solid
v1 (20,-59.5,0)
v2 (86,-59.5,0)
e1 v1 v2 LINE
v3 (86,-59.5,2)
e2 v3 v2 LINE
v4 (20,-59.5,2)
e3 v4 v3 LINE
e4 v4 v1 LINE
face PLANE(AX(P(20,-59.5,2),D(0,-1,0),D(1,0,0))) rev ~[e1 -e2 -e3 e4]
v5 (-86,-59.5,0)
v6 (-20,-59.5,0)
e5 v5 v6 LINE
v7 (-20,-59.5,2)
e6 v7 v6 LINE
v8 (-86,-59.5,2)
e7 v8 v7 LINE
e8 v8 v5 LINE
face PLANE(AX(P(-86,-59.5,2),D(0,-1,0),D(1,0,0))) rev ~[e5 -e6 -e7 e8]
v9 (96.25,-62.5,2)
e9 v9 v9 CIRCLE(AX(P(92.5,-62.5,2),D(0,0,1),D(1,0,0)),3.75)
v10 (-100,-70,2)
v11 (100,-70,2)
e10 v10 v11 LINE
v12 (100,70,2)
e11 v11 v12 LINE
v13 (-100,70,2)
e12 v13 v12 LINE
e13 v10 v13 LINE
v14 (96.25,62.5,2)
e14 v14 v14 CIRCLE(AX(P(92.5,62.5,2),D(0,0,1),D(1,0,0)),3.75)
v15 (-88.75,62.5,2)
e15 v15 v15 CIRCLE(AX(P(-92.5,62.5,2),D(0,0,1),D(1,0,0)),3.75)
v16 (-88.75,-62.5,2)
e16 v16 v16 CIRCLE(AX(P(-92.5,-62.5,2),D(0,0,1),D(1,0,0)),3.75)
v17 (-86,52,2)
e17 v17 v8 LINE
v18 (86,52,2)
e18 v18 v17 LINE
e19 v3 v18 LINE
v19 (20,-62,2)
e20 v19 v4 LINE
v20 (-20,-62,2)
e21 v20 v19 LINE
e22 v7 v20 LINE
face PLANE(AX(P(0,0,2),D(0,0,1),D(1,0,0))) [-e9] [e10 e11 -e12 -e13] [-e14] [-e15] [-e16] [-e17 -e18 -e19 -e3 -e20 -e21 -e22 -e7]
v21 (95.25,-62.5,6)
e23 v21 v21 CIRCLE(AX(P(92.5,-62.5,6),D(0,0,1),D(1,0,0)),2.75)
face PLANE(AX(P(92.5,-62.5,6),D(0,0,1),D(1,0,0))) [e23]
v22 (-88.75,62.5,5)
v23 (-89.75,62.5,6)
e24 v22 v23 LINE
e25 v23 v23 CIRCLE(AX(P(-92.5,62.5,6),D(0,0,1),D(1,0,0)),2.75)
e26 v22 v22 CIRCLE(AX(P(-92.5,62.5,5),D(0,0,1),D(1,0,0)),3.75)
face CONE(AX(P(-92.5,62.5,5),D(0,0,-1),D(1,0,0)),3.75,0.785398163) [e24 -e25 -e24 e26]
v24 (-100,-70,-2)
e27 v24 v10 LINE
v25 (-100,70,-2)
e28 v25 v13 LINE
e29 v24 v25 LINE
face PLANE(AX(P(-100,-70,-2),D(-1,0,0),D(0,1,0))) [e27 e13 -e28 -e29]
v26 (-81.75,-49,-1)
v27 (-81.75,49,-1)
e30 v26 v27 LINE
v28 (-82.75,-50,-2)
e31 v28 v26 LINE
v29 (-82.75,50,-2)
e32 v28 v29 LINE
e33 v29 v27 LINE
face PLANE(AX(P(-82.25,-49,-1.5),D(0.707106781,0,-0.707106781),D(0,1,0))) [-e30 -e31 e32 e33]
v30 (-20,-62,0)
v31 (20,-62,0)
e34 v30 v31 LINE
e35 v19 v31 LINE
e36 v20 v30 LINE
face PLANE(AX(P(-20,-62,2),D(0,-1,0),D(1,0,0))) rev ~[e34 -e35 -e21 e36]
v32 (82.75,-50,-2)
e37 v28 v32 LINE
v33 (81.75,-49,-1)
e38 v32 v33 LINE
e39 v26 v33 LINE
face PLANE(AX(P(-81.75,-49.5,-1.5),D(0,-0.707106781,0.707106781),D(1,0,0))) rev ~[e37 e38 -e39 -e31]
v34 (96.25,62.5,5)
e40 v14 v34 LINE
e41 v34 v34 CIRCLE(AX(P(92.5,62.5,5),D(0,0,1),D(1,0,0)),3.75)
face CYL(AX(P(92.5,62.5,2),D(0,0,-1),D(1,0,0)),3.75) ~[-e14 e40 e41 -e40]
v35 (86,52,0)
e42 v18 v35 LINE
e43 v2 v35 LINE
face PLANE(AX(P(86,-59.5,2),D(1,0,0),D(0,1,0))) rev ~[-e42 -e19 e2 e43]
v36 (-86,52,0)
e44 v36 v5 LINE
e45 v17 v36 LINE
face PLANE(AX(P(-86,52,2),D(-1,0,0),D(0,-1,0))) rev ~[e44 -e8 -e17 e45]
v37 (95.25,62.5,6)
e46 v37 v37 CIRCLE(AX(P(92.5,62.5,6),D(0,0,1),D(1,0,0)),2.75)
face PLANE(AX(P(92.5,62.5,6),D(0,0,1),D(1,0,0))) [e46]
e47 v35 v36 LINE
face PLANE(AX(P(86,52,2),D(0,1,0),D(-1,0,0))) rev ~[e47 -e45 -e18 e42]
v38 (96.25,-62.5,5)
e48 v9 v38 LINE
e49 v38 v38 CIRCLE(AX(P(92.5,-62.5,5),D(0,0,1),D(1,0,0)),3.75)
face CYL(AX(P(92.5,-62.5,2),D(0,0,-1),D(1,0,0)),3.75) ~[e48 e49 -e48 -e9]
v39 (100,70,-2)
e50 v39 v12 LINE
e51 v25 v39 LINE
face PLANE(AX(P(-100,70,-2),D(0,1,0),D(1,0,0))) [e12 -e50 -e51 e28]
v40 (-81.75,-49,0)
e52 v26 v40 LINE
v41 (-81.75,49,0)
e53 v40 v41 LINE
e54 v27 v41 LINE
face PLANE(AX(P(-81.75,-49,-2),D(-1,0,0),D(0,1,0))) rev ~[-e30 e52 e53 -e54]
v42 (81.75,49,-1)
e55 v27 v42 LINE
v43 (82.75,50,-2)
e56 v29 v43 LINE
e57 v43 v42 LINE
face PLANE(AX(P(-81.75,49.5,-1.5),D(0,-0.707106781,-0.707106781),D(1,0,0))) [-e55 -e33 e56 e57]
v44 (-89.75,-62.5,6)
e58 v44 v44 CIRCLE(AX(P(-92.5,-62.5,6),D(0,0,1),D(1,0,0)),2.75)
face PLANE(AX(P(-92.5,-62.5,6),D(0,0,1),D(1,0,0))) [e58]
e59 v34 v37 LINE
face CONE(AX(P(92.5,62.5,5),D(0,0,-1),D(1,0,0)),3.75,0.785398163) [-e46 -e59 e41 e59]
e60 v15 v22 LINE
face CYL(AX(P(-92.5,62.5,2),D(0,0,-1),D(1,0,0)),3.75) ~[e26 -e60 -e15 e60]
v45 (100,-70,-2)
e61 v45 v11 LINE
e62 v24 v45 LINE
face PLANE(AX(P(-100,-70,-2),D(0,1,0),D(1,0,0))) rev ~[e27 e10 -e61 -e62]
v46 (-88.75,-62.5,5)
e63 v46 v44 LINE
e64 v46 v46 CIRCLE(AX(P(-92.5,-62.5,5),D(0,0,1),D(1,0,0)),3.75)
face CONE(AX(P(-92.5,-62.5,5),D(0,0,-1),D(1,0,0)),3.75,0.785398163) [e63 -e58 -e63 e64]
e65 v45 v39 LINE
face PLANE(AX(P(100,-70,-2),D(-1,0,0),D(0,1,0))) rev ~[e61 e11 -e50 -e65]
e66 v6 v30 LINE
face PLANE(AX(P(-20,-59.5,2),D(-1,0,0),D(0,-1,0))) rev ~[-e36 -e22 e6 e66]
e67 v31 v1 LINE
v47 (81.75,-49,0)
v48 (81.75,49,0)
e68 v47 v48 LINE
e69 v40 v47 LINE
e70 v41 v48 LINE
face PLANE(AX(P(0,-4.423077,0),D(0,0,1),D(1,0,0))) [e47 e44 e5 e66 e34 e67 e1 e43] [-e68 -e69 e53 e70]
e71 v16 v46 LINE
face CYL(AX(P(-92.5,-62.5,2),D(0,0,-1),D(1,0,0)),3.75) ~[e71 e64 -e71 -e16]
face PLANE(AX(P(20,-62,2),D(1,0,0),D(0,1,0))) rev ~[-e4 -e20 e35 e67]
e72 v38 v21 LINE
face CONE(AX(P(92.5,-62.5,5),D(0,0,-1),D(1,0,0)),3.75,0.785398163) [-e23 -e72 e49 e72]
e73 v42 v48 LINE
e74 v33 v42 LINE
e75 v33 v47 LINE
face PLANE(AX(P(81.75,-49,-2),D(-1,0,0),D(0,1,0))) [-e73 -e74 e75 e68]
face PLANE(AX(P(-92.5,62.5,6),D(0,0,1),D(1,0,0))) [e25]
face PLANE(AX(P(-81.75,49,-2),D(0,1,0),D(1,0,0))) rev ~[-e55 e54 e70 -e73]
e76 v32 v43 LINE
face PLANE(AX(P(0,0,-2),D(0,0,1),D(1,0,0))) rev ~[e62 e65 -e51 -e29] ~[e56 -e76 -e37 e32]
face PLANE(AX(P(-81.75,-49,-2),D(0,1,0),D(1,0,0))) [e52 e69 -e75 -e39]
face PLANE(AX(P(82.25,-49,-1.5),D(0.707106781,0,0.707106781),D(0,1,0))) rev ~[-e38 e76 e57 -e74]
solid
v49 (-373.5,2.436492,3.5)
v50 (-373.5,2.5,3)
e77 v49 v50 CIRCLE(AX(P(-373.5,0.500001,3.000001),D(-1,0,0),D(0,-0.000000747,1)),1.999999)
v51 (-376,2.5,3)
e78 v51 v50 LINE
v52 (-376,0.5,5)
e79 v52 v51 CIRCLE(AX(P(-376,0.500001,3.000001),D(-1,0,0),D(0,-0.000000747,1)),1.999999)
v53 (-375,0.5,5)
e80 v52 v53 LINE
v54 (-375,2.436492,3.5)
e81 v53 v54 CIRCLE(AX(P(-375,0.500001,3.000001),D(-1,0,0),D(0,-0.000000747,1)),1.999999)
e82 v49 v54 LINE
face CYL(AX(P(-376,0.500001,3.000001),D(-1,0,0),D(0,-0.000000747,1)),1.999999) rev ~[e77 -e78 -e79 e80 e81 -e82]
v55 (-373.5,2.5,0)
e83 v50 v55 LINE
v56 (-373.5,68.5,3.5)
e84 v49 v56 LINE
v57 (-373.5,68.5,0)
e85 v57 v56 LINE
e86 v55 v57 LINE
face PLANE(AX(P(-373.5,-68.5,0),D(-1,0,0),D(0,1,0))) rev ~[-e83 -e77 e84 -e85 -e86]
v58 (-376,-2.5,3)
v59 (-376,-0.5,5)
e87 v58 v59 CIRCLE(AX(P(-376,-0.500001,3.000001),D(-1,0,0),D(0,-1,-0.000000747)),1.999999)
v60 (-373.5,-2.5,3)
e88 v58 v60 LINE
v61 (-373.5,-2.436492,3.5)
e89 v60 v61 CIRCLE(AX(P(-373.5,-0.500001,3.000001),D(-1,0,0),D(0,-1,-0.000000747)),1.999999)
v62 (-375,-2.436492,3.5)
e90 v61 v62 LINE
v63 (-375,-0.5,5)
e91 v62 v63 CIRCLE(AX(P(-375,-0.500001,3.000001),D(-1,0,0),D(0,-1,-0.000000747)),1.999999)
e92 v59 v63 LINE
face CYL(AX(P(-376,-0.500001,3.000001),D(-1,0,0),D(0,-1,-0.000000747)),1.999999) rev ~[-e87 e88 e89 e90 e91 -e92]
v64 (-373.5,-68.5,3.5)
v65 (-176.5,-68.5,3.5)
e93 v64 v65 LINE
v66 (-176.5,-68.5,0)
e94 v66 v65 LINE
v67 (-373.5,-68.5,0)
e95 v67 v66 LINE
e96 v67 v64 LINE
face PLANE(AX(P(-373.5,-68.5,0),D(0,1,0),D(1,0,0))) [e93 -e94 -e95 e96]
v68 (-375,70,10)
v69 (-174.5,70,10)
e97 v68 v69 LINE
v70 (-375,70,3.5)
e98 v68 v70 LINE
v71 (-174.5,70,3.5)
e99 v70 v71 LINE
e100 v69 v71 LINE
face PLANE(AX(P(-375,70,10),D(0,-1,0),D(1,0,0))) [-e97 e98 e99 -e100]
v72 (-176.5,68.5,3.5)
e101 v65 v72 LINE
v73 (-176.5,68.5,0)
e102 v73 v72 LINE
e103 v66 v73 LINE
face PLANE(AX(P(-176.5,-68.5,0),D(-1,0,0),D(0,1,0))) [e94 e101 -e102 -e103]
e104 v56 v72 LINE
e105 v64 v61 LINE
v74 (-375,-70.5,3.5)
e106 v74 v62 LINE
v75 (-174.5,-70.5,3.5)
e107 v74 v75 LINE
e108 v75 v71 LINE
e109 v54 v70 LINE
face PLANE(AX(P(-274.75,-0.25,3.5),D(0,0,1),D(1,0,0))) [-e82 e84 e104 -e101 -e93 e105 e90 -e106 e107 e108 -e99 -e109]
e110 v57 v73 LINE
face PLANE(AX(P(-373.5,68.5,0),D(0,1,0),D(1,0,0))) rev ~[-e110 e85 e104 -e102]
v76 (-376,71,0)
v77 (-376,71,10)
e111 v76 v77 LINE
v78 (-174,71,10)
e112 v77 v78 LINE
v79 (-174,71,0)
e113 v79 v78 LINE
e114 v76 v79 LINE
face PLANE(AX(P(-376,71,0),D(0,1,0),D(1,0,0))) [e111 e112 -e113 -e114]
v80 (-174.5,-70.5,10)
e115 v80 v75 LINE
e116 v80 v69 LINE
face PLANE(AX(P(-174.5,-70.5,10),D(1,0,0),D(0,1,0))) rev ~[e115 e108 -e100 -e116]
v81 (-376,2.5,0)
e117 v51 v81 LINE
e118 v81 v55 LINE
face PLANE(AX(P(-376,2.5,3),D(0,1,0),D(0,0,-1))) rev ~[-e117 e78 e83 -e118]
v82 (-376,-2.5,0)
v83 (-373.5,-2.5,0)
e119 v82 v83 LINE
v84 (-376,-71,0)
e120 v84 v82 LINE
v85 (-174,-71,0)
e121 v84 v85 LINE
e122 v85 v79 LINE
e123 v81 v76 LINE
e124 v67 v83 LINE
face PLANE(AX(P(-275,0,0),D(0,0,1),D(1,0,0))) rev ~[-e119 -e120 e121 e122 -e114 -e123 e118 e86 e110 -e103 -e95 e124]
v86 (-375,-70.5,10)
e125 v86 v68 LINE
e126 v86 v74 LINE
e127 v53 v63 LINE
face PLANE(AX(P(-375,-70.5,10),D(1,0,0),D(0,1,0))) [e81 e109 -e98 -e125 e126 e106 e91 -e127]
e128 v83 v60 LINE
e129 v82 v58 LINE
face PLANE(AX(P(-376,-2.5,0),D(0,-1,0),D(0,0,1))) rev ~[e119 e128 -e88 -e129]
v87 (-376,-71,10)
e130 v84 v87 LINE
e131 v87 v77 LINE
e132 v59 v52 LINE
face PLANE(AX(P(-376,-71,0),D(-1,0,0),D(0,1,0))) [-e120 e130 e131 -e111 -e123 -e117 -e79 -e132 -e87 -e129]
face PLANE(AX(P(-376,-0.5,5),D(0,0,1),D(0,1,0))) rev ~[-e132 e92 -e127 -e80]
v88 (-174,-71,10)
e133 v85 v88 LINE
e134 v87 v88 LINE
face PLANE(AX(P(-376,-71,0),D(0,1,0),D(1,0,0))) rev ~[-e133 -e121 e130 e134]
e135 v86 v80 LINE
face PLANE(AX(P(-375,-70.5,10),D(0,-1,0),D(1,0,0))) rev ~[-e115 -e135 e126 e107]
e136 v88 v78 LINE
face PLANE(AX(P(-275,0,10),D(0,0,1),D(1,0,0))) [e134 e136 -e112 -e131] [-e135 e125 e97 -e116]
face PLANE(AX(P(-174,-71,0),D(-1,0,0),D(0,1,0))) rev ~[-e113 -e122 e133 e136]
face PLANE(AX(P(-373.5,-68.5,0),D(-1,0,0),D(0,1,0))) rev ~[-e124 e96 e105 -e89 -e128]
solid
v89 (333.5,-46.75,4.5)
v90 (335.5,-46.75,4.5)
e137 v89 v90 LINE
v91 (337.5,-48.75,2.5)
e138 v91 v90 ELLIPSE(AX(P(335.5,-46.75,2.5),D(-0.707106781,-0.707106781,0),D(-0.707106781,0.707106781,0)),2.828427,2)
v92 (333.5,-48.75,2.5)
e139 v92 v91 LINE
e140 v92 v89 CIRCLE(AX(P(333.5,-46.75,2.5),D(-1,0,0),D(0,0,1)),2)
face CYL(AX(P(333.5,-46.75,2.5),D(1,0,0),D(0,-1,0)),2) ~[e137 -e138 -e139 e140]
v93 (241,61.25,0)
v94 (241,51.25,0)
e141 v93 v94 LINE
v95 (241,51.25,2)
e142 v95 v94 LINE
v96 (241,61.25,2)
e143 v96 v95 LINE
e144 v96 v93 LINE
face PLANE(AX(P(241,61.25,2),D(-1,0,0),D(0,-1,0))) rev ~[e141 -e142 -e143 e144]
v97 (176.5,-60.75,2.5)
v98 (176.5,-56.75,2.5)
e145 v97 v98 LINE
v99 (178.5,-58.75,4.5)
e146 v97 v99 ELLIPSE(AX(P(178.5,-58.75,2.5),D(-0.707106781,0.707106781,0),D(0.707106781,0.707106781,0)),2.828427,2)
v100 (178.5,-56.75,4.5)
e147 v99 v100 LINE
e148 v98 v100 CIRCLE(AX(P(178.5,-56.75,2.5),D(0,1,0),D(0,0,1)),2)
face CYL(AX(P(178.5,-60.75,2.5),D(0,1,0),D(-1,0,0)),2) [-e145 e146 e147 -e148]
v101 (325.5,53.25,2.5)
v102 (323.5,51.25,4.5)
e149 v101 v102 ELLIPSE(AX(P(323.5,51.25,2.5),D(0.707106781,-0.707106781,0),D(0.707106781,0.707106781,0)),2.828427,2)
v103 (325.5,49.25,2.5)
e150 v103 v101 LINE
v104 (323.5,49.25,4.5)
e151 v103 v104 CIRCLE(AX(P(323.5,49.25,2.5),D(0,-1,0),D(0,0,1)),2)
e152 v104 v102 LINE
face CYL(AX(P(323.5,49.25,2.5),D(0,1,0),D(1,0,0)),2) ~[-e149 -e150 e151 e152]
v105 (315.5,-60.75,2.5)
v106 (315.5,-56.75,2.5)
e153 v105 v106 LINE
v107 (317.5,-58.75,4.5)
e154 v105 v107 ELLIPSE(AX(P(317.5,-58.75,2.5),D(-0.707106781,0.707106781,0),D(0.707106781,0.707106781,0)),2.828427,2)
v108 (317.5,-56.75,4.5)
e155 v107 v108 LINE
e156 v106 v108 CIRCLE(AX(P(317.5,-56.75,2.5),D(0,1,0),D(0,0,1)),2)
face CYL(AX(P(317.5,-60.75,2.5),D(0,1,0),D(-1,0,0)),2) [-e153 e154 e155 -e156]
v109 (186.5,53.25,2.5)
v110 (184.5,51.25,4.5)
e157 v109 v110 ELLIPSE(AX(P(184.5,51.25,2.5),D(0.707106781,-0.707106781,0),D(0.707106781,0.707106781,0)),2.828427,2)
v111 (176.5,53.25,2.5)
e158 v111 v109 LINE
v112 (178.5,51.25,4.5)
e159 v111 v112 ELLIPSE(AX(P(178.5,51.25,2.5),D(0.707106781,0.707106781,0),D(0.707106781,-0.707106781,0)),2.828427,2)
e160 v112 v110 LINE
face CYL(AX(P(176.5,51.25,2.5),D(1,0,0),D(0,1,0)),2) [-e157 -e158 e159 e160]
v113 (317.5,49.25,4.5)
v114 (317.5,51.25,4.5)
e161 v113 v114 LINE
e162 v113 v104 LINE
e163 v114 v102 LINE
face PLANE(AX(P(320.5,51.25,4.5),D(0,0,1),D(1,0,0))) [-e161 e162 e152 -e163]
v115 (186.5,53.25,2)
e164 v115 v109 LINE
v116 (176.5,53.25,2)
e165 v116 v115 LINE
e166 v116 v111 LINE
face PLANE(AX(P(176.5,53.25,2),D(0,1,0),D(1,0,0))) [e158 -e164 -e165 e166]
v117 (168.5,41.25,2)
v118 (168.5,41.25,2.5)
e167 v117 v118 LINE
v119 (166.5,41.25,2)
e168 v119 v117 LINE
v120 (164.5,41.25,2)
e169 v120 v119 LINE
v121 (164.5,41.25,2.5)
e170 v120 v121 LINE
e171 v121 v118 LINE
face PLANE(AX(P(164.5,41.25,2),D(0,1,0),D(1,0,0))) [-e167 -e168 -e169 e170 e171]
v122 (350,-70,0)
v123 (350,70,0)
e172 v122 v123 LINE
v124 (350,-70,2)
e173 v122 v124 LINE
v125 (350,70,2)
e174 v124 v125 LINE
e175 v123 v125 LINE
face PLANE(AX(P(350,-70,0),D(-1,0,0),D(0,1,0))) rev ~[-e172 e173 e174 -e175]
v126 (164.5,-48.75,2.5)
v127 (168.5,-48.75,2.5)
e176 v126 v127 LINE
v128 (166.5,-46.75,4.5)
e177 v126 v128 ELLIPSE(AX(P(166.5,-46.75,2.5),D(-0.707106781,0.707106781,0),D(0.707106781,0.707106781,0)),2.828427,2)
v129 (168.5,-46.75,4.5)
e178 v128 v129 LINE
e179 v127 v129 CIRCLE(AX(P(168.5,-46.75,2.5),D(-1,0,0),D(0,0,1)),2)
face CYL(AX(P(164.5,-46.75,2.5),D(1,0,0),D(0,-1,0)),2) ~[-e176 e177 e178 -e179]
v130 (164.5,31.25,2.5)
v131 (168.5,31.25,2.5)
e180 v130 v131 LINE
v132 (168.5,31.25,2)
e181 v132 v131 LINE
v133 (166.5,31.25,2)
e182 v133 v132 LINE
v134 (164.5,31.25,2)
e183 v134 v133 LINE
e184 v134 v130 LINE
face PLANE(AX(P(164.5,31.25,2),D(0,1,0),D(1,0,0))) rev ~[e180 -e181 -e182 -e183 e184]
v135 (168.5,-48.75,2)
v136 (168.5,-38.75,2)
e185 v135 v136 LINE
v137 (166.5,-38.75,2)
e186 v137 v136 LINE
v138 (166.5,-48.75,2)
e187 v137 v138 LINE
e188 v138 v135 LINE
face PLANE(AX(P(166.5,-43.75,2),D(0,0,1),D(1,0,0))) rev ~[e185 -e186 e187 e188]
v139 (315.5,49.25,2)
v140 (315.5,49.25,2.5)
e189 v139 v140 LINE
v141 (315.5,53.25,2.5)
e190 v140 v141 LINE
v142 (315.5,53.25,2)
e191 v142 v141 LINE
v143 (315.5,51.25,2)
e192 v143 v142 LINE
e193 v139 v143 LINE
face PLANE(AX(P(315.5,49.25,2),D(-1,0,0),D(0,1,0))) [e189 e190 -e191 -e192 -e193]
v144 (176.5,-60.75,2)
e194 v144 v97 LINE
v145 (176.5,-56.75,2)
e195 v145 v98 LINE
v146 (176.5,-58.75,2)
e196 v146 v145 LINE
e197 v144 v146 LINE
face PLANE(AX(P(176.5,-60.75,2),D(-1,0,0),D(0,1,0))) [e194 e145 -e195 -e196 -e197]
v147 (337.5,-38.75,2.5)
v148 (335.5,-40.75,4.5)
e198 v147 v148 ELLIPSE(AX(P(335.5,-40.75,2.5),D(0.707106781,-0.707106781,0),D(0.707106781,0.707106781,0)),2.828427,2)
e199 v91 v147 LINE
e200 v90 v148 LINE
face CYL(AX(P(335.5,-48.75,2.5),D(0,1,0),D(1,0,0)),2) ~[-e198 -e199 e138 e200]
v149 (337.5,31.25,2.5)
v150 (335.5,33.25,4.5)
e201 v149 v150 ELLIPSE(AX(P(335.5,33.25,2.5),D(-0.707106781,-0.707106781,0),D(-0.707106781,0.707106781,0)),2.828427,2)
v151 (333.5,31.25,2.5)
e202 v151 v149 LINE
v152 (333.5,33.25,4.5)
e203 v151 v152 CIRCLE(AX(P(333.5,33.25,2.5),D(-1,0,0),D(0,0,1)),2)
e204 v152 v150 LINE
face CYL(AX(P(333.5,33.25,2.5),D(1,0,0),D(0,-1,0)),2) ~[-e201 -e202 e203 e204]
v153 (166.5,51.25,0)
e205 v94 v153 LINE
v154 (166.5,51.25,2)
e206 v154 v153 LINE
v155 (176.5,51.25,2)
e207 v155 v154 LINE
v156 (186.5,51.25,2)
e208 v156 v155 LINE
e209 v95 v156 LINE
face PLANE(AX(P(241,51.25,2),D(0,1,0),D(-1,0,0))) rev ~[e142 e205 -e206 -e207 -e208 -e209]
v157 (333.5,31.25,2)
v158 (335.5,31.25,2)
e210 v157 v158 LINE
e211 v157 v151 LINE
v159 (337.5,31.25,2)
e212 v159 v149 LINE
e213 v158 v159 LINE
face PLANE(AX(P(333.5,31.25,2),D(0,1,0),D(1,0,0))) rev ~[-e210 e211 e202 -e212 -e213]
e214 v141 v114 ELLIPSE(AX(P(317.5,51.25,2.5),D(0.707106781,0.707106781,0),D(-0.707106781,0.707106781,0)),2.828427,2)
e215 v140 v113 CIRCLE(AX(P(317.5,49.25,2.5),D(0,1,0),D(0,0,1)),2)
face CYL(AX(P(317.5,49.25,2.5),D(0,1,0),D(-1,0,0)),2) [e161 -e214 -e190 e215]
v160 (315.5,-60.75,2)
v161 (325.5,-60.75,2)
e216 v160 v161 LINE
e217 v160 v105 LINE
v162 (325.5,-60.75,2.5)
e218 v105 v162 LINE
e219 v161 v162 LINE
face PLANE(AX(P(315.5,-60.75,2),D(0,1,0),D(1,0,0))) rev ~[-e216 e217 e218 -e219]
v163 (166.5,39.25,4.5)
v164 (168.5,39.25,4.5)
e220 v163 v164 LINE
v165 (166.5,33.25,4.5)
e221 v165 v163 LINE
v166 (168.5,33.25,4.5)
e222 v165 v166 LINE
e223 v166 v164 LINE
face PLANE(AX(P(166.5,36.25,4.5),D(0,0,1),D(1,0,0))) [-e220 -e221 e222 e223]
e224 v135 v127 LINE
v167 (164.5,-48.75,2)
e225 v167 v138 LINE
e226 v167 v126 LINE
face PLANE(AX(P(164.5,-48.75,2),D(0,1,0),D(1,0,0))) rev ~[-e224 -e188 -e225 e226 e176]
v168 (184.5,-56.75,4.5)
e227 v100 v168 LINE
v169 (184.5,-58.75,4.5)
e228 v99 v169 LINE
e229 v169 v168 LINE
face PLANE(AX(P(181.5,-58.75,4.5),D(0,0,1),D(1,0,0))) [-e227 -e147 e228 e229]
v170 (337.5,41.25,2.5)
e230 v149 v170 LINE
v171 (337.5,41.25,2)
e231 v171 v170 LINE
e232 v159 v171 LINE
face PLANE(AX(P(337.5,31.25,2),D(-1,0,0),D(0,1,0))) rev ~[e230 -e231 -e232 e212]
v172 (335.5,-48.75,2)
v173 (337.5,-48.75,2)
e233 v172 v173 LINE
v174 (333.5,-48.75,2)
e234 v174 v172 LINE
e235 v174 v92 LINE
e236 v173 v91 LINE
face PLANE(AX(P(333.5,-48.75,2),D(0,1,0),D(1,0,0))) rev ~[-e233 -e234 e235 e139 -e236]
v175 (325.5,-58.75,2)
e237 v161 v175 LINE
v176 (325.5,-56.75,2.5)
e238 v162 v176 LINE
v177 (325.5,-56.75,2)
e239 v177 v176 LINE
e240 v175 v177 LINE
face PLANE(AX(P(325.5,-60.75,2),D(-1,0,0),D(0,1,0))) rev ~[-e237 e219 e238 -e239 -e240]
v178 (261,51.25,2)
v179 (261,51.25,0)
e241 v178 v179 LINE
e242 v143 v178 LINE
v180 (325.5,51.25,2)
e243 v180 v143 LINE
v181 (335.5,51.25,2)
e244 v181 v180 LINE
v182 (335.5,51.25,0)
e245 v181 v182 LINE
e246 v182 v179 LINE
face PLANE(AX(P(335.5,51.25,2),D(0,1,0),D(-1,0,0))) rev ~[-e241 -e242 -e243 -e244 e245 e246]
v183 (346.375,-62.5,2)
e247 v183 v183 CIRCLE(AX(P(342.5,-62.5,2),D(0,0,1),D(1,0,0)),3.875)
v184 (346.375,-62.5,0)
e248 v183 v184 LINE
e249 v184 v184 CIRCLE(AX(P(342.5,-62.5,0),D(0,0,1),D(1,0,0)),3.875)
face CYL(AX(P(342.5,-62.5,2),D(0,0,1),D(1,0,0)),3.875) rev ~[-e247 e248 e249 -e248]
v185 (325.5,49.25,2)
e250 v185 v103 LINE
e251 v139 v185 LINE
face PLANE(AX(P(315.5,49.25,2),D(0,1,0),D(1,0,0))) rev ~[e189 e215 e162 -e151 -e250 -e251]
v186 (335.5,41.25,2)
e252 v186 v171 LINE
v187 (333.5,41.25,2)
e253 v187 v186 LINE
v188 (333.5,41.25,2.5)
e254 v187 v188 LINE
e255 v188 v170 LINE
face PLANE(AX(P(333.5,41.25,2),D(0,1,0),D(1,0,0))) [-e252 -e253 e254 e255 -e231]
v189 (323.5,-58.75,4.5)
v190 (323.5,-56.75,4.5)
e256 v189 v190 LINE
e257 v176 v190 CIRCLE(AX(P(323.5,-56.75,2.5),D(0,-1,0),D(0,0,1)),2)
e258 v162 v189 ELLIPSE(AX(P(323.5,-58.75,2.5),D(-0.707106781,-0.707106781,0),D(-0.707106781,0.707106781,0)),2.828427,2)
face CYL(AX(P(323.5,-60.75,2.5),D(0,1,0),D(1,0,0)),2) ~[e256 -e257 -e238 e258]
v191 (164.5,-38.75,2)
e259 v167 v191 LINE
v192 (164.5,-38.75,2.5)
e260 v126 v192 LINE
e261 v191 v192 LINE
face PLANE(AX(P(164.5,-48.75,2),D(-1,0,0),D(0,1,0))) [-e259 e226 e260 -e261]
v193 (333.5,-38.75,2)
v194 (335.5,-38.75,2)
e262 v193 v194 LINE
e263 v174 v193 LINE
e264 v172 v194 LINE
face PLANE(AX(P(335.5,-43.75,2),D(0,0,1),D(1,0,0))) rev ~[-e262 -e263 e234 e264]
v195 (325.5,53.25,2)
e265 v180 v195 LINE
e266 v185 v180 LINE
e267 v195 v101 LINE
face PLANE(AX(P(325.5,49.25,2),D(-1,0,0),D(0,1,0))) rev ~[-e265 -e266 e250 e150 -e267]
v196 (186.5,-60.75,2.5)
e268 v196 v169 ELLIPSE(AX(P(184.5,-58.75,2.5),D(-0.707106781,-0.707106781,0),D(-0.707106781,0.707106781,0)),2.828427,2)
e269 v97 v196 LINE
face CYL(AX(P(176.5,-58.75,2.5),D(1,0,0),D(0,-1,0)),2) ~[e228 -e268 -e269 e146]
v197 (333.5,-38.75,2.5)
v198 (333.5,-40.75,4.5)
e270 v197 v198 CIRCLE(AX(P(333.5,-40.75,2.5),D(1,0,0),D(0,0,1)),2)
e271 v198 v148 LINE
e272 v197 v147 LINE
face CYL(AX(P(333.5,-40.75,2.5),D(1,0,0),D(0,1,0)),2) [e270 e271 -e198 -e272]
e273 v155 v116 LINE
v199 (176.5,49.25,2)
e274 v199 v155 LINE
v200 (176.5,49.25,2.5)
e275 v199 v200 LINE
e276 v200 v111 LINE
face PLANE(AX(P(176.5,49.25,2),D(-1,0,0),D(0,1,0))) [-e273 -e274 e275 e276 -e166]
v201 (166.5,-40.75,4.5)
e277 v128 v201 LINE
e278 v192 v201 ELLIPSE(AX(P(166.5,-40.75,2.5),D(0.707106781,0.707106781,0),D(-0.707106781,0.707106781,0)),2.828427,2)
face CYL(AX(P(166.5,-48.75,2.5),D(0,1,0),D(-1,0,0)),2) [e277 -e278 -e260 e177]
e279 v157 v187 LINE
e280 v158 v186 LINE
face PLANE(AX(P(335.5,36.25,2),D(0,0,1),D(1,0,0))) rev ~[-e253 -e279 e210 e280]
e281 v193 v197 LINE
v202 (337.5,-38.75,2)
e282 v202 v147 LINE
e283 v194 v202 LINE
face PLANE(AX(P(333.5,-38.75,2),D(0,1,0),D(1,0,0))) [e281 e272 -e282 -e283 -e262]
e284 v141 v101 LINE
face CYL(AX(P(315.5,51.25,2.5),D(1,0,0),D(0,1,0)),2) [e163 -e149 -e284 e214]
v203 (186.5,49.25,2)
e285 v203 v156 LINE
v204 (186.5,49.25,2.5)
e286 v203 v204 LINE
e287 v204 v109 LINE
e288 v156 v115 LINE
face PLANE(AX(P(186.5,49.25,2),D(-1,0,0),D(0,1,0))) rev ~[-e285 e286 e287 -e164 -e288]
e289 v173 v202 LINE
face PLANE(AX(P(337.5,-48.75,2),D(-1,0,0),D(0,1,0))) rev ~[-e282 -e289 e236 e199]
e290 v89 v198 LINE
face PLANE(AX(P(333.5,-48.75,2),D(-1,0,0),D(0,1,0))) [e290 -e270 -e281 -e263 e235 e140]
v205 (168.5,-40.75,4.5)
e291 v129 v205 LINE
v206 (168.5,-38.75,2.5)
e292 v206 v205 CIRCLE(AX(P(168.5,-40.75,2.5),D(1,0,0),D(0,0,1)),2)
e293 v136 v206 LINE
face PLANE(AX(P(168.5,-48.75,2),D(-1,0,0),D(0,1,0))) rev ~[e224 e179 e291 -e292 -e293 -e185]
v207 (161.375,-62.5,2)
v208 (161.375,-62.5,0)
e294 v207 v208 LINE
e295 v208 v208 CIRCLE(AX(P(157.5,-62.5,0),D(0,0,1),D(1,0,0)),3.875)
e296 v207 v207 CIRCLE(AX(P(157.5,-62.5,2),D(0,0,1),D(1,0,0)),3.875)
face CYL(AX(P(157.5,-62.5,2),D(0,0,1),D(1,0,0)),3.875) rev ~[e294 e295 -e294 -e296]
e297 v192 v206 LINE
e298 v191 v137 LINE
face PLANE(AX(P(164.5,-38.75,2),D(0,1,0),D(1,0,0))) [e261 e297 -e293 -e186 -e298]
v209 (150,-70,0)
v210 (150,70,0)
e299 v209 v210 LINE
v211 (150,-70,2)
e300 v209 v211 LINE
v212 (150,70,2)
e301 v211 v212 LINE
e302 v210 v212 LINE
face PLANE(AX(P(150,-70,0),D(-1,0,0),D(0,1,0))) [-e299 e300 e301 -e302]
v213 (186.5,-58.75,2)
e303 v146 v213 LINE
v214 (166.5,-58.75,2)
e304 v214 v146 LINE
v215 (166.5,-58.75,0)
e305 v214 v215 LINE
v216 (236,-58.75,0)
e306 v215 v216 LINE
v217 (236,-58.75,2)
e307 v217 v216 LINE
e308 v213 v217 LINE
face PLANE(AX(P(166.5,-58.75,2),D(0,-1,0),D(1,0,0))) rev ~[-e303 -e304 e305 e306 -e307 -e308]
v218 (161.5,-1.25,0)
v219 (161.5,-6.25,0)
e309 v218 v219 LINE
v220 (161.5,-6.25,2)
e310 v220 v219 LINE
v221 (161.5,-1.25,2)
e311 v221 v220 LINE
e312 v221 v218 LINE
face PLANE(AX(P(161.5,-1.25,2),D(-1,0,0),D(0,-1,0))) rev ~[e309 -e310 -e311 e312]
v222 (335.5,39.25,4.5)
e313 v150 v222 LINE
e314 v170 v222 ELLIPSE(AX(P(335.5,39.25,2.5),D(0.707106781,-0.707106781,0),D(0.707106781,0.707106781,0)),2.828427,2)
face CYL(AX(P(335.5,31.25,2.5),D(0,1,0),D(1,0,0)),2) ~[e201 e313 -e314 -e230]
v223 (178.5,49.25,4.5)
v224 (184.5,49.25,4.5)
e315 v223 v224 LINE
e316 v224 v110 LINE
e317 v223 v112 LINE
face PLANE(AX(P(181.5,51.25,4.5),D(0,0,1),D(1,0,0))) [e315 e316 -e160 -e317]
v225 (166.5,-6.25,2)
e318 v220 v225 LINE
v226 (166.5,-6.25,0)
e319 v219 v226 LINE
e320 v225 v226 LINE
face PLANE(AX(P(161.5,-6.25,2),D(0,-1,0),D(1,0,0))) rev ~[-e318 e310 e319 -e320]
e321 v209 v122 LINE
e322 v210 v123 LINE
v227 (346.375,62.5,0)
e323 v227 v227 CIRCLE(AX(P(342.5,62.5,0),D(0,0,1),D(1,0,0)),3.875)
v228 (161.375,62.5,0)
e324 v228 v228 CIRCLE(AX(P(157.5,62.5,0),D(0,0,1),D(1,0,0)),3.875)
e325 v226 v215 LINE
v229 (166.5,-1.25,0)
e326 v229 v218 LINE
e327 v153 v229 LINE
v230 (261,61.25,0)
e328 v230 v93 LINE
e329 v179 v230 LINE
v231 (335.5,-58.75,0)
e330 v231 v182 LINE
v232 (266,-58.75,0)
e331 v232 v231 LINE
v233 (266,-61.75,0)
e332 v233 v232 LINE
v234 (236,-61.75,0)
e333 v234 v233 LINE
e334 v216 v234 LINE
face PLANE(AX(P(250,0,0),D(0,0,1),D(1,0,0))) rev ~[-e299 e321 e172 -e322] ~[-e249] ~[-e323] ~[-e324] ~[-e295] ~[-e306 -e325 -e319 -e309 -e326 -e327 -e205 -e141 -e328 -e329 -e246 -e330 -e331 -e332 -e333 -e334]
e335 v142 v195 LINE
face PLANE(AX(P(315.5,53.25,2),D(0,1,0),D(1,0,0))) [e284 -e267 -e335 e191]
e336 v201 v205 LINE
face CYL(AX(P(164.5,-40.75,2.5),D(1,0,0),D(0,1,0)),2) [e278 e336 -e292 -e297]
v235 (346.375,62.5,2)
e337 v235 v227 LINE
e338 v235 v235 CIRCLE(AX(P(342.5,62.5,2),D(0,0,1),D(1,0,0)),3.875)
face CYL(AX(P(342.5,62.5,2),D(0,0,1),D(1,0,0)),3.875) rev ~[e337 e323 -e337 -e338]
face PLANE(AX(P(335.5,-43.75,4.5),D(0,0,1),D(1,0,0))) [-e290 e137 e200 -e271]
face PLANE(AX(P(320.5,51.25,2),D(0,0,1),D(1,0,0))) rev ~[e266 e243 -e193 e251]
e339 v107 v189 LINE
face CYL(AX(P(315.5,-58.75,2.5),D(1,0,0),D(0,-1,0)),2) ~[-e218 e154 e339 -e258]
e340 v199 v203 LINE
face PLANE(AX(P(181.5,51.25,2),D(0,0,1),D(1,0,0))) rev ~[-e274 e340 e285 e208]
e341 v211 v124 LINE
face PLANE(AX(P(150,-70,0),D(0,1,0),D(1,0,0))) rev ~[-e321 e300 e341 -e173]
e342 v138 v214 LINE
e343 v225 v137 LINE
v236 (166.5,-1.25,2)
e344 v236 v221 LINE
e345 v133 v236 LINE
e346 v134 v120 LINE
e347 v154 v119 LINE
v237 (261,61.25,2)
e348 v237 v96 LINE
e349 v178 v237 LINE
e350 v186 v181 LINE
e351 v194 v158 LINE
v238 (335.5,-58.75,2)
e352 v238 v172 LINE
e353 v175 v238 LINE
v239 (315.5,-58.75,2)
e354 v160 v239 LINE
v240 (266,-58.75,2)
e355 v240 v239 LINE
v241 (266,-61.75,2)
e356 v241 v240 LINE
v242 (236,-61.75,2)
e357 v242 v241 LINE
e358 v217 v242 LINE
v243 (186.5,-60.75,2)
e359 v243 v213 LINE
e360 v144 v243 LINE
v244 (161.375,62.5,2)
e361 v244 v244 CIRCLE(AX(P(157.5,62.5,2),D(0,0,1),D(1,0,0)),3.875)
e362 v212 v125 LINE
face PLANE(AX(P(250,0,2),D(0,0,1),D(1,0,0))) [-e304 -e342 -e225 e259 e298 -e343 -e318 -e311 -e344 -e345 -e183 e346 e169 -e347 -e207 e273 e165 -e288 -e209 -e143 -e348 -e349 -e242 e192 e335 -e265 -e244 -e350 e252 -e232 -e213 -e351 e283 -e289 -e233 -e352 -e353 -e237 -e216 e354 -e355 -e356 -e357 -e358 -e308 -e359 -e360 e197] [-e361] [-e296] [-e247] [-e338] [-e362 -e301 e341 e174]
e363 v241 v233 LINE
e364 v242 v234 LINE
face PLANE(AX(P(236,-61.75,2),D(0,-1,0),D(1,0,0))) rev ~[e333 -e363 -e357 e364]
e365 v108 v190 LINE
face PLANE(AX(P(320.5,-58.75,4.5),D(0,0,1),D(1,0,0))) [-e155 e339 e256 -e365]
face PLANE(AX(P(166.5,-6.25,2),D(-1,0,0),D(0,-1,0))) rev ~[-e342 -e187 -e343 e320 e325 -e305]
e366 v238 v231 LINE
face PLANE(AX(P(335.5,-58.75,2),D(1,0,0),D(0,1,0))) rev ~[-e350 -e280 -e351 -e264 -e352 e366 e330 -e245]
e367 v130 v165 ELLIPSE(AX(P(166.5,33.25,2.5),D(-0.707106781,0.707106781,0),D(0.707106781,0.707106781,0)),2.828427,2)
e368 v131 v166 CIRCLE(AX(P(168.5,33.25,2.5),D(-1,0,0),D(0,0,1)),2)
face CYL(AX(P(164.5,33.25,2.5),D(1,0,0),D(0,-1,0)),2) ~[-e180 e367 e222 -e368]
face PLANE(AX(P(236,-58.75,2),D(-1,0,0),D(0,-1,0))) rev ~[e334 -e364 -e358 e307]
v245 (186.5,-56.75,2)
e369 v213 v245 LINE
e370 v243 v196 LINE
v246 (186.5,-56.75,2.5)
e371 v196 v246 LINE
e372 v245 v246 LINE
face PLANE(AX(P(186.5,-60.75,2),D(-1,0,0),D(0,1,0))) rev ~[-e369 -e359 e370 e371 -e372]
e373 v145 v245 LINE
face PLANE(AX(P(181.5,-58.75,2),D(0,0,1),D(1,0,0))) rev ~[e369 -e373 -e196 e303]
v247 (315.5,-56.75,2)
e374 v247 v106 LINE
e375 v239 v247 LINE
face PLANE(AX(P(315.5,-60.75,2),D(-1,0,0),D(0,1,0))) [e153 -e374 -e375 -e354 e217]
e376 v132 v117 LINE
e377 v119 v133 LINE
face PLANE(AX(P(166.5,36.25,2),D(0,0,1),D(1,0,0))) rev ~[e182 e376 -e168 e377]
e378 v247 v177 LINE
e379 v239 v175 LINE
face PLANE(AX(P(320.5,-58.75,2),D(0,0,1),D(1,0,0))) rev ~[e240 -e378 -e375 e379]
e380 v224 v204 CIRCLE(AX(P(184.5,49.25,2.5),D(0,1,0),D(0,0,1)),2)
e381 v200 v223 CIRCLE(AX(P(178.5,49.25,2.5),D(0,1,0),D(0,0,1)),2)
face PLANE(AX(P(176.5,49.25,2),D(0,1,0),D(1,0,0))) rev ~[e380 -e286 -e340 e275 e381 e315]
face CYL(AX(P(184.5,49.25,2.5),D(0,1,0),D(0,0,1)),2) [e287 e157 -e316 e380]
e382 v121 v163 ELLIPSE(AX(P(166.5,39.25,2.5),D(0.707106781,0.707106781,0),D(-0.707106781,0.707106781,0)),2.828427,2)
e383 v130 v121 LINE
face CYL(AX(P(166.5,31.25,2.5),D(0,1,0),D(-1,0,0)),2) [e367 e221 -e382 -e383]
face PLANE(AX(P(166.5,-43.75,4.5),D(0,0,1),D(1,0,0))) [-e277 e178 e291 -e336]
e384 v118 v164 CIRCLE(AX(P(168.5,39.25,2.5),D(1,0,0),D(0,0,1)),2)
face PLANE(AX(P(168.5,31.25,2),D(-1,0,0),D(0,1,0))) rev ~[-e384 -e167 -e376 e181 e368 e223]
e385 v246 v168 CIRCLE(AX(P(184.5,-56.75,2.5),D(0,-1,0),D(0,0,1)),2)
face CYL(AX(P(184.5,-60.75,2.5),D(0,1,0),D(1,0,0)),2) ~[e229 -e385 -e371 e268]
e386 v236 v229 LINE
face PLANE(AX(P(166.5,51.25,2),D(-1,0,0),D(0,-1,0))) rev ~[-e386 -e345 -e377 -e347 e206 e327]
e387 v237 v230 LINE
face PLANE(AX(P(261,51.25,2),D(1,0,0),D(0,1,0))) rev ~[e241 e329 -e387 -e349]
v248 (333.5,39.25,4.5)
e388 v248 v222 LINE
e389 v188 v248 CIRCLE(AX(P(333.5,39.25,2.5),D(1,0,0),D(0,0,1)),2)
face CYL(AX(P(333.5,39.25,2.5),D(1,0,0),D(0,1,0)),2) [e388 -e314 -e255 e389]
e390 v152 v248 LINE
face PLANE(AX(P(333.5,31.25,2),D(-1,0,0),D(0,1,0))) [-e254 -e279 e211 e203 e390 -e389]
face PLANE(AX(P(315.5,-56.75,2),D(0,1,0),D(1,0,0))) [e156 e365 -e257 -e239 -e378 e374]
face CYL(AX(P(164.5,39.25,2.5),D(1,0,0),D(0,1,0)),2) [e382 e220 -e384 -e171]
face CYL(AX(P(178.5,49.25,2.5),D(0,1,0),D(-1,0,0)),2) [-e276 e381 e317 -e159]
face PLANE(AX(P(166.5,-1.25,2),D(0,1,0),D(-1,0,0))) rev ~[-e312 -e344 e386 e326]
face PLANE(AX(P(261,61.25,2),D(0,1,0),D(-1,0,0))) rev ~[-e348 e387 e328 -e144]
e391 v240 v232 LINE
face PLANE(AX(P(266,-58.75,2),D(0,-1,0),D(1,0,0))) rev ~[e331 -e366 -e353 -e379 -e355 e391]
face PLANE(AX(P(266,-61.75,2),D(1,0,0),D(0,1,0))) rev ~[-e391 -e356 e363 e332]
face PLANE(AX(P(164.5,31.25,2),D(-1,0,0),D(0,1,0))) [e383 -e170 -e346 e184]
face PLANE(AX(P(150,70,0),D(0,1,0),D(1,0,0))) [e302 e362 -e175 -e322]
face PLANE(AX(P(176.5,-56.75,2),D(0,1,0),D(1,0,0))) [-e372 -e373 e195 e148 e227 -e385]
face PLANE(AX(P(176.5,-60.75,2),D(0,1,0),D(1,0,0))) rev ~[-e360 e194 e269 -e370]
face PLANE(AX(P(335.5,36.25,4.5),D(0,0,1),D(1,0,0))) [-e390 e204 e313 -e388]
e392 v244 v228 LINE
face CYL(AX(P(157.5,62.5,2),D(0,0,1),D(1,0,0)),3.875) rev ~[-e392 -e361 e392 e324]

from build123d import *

# Parameters (mm, degrees)
SKETCH_W        = 200
SKETCH_H        = 140
SKETCH_W_2      = 163.5
SKETCH_H_2      = 98
PAD_DEPTH       = 4
POCKET_DEPTH    = 2
SKETCH004_R     = 3.75
PAD001_DEPTH    = 4
CHAMFER_SIZE    = 1
SKETCH005_W     = 200
SKETCH005_H     = 140
PAD002_DEPTH    = 2
POCKET001_DEPTH = 2.001
SKETCH007_R     = 3.875
POCKET002_DEPTH = 2.001
SKETCH008_W     = 10
SKETCH008_H     = 4
SKETCH008_W_2   = 4
SKETCH008_H_2   = 10
PAD003_DEPTH    = 2.5
FILLET_R        = 2
SKETCH009_W     = 202
SKETCH009_H     = 142
SKETCH009_W_2   = 197
SKETCH009_H_2   = 137
PAD004_DEPTH    = 10
SKETCH010_W     = 200.5
SKETCH010_H     = 140.5
SKETCH010_W_2   = 197
SKETCH010_H_2   = 137
POCKET003_DEPTH = 6.5
POCKET004_DEPTH = 2.5


with BuildPart() as framefront:
    # Sketch (on DatumPlane) → Pad (new body)
    with BuildSketch(Plane.XY.offset(-2)):
        Rectangle(SKETCH_W, SKETCH_H)
        Rectangle(SKETCH_W_2, SKETCH_H_2, mode=Mode.SUBTRACT)
    extrude(amount=PAD_DEPTH)

    # Sketch003 (on Face10 of Pad) → Pocket (cut)
    with BuildSketch(Plane.XY.offset(2)):
        Polygon((-86, 52), (-86, -59.5), (-20, -59.5), (-20, -62), (20, -62), (20, -59.5), (86, -59.5), (86, 52), align=None)
    extrude(amount=-POCKET_DEPTH, mode=Mode.SUBTRACT)

    # Sketch004 (on Face5 of Pocket) → Pad001 (join)
    with BuildSketch(Plane.XY.offset(2)):
        with Locations((-92.5, 62.5)):
            Circle(SKETCH004_R)
        with Locations((92.5, 62.5)):
            Circle(SKETCH004_R)
        with Locations((92.5, -62.5)):
            Circle(SKETCH004_R)
        with Locations((-92.5, -62.5)):
            Circle(SKETCH004_R)
    extrude(amount=PAD001_DEPTH)

    # Chamfer
    chamfer_edges = [framefront.edges().sort_by_distance(p)[0] for p in [
        (0, 49, -2),
        (-81.75, 0, -2),
        (81.75, 0, -2),
        (0, -49, -2),
        (-96.25, 62.5, 6),
        (-96.25, -62.5, 6),
        (88.75, -62.5, 6),
        (88.75, 62.5, 6),
    ]]
    chamfer(chamfer_edges, length=CHAMFER_SIZE)


with BuildPart() as frameback:
    # Sketch005 → Pad002 (new body)
    with BuildSketch(Plane.XY):
        with Locations((250, 0)):
            Rectangle(SKETCH005_W, SKETCH005_H)
    extrude(amount=PAD002_DEPTH)

    # Sketch006 (on Face6 of Pad002) → Pocket001 (cut, through all)
    with BuildSketch(Plane.XY.offset(2)):
        Polygon((335.5, -58.75), (335.5, 51.25), (261, 51.25), (261, 61.25), (241, 61.25), (241, 51.25), (166.5, 51.25), (166.5, -1.25), (161.5, -1.25), (161.5, -6.25), (166.5, -6.25), (166.5, -58.75), (236, -58.75), (236, -61.75), (266, -61.75), (266, -58.75), align=None)
    extrude(amount=-POCKET001_DEPTH, mode=Mode.SUBTRACT)

    # Sketch007 (on Face5 of Pocket001) → Pocket002 (cut, through all)
    with BuildSketch(Plane.XY.offset(2)):
        with Locations((157.5, 62.5)):
            Circle(SKETCH007_R)
        with Locations((342.5, 62.5)):
            Circle(SKETCH007_R)
        with Locations((342.5, -62.5)):
            Circle(SKETCH007_R)
        with Locations((157.5, -62.5)):
            Circle(SKETCH007_R)
    extrude(amount=-POCKET002_DEPTH, mode=Mode.SUBTRACT)

    # Sketch008 (on Face5 of Pocket002) → Pad003 (join)
    with BuildSketch(Plane.XY.offset(2)):
        with Locations((181.5, 51.25)):
            Rectangle(SKETCH008_W, SKETCH008_H)
        with Locations((166.5, 36.25)):
            Rectangle(SKETCH008_W_2, SKETCH008_H_2)
        with Locations((166.5, -43.75)):
            Rectangle(SKETCH008_W_2, SKETCH008_H_2)
        with Locations((181.5, -58.75)):
            Rectangle(SKETCH008_W, SKETCH008_H)
        with Locations((320.5, -58.75)):
            Rectangle(SKETCH008_W, SKETCH008_H)
        with Locations((335.5, -43.75)):
            Rectangle(SKETCH008_W_2, SKETCH008_H_2)
        with Locations((335.5, 36.25)):
            Rectangle(SKETCH008_W_2, SKETCH008_H_2)
        with Locations((320.5, 51.25)):
            Rectangle(SKETCH008_W, SKETCH008_H)
    extrude(amount=PAD003_DEPTH)

    # Fillet
    fillet_edges = [frameback.edges().sort_by_distance(p)[0] for p in [
        (181.5, 53.25, 4.5),
        (176.5, 51.25, 4.5),
        (186.5, 51.25, 4.5),
        (315.5, 51.25, 4.5),
        (320.5, 53.25, 4.5),
        (325.5, 51.25, 4.5),
        (335.5, 41.25, 4.5),
        (337.5, 36.25, 4.5),
        (335.5, 31.25, 4.5),
        (335.5, -38.75, 4.5),
        (337.5, -43.75, 4.5),
        (335.5, -48.75, 4.5),
        (325.5, -58.75, 4.5),
        (320.5, -60.75, 4.5),
        (315.5, -58.75, 4.5),
        (186.5, -58.75, 4.5),
        (181.5, -60.75, 4.5),
        (176.5, -58.75, 4.5),
        (166.5, -48.75, 4.5),
        (164.5, -43.75, 4.5),
        (166.5, -38.75, 4.5),
        (166.5, 31.25, 4.5),
        (164.5, 36.25, 4.5),
        (166.5, 41.25, 4.5),
    ]]
    fillet(fillet_edges, radius=FILLET_R)


with BuildPart() as framesurround:
    # Sketch009 → Pad004 (new body)
    with BuildSketch(Plane.XY):
        with Locations((-275, 0)):
            Rectangle(SKETCH009_W, SKETCH009_H)
        with Locations((-275, 0)):
            Rectangle(SKETCH009_W_2, SKETCH009_H_2, mode=Mode.SUBTRACT)
    extrude(amount=PAD004_DEPTH)

    # Sketch010 (on Face10 of Pad004) → Pocket003 (cut)
    with BuildSketch(Plane.XY.offset(10)):
        with Locations((-274.75, -0.25)):
            Rectangle(SKETCH010_W, SKETCH010_H)
        with Locations((-275, 0)):
            Rectangle(SKETCH010_W_2, SKETCH010_H_2, mode=Mode.SUBTRACT)
    extrude(amount=-POCKET003_DEPTH, mode=Mode.SUBTRACT)

    # Sketch011 (on Face1 of Pocket003) → Pocket004 (cut)
    with BuildSketch(Plane(origin=(-376, 0, 0), x_dir=(0, -1, 0), z_dir=(-1, 0, 0))):
        with BuildLine():
            Line((-2.5, 3), (-2.5, 0))
            Line((-2.5, 0), (2.5, 0))
            Line((2.5, 0), (2.5, 3))
            ThreePointArc((2.5, 3), (1.914214, 4.414214), (0.5, 5))
            Line((0.5, 5), (-0.5, 5))
            ThreePointArc((-0.5, 5), (-1.914214, 4.414214), (-2.5, 3))
        make_face()
    extrude(amount=-POCKET004_DEPTH, mode=Mode.SUBTRACT)


solid = Compound([framefront.part, frameback.part, framesurround.part])
